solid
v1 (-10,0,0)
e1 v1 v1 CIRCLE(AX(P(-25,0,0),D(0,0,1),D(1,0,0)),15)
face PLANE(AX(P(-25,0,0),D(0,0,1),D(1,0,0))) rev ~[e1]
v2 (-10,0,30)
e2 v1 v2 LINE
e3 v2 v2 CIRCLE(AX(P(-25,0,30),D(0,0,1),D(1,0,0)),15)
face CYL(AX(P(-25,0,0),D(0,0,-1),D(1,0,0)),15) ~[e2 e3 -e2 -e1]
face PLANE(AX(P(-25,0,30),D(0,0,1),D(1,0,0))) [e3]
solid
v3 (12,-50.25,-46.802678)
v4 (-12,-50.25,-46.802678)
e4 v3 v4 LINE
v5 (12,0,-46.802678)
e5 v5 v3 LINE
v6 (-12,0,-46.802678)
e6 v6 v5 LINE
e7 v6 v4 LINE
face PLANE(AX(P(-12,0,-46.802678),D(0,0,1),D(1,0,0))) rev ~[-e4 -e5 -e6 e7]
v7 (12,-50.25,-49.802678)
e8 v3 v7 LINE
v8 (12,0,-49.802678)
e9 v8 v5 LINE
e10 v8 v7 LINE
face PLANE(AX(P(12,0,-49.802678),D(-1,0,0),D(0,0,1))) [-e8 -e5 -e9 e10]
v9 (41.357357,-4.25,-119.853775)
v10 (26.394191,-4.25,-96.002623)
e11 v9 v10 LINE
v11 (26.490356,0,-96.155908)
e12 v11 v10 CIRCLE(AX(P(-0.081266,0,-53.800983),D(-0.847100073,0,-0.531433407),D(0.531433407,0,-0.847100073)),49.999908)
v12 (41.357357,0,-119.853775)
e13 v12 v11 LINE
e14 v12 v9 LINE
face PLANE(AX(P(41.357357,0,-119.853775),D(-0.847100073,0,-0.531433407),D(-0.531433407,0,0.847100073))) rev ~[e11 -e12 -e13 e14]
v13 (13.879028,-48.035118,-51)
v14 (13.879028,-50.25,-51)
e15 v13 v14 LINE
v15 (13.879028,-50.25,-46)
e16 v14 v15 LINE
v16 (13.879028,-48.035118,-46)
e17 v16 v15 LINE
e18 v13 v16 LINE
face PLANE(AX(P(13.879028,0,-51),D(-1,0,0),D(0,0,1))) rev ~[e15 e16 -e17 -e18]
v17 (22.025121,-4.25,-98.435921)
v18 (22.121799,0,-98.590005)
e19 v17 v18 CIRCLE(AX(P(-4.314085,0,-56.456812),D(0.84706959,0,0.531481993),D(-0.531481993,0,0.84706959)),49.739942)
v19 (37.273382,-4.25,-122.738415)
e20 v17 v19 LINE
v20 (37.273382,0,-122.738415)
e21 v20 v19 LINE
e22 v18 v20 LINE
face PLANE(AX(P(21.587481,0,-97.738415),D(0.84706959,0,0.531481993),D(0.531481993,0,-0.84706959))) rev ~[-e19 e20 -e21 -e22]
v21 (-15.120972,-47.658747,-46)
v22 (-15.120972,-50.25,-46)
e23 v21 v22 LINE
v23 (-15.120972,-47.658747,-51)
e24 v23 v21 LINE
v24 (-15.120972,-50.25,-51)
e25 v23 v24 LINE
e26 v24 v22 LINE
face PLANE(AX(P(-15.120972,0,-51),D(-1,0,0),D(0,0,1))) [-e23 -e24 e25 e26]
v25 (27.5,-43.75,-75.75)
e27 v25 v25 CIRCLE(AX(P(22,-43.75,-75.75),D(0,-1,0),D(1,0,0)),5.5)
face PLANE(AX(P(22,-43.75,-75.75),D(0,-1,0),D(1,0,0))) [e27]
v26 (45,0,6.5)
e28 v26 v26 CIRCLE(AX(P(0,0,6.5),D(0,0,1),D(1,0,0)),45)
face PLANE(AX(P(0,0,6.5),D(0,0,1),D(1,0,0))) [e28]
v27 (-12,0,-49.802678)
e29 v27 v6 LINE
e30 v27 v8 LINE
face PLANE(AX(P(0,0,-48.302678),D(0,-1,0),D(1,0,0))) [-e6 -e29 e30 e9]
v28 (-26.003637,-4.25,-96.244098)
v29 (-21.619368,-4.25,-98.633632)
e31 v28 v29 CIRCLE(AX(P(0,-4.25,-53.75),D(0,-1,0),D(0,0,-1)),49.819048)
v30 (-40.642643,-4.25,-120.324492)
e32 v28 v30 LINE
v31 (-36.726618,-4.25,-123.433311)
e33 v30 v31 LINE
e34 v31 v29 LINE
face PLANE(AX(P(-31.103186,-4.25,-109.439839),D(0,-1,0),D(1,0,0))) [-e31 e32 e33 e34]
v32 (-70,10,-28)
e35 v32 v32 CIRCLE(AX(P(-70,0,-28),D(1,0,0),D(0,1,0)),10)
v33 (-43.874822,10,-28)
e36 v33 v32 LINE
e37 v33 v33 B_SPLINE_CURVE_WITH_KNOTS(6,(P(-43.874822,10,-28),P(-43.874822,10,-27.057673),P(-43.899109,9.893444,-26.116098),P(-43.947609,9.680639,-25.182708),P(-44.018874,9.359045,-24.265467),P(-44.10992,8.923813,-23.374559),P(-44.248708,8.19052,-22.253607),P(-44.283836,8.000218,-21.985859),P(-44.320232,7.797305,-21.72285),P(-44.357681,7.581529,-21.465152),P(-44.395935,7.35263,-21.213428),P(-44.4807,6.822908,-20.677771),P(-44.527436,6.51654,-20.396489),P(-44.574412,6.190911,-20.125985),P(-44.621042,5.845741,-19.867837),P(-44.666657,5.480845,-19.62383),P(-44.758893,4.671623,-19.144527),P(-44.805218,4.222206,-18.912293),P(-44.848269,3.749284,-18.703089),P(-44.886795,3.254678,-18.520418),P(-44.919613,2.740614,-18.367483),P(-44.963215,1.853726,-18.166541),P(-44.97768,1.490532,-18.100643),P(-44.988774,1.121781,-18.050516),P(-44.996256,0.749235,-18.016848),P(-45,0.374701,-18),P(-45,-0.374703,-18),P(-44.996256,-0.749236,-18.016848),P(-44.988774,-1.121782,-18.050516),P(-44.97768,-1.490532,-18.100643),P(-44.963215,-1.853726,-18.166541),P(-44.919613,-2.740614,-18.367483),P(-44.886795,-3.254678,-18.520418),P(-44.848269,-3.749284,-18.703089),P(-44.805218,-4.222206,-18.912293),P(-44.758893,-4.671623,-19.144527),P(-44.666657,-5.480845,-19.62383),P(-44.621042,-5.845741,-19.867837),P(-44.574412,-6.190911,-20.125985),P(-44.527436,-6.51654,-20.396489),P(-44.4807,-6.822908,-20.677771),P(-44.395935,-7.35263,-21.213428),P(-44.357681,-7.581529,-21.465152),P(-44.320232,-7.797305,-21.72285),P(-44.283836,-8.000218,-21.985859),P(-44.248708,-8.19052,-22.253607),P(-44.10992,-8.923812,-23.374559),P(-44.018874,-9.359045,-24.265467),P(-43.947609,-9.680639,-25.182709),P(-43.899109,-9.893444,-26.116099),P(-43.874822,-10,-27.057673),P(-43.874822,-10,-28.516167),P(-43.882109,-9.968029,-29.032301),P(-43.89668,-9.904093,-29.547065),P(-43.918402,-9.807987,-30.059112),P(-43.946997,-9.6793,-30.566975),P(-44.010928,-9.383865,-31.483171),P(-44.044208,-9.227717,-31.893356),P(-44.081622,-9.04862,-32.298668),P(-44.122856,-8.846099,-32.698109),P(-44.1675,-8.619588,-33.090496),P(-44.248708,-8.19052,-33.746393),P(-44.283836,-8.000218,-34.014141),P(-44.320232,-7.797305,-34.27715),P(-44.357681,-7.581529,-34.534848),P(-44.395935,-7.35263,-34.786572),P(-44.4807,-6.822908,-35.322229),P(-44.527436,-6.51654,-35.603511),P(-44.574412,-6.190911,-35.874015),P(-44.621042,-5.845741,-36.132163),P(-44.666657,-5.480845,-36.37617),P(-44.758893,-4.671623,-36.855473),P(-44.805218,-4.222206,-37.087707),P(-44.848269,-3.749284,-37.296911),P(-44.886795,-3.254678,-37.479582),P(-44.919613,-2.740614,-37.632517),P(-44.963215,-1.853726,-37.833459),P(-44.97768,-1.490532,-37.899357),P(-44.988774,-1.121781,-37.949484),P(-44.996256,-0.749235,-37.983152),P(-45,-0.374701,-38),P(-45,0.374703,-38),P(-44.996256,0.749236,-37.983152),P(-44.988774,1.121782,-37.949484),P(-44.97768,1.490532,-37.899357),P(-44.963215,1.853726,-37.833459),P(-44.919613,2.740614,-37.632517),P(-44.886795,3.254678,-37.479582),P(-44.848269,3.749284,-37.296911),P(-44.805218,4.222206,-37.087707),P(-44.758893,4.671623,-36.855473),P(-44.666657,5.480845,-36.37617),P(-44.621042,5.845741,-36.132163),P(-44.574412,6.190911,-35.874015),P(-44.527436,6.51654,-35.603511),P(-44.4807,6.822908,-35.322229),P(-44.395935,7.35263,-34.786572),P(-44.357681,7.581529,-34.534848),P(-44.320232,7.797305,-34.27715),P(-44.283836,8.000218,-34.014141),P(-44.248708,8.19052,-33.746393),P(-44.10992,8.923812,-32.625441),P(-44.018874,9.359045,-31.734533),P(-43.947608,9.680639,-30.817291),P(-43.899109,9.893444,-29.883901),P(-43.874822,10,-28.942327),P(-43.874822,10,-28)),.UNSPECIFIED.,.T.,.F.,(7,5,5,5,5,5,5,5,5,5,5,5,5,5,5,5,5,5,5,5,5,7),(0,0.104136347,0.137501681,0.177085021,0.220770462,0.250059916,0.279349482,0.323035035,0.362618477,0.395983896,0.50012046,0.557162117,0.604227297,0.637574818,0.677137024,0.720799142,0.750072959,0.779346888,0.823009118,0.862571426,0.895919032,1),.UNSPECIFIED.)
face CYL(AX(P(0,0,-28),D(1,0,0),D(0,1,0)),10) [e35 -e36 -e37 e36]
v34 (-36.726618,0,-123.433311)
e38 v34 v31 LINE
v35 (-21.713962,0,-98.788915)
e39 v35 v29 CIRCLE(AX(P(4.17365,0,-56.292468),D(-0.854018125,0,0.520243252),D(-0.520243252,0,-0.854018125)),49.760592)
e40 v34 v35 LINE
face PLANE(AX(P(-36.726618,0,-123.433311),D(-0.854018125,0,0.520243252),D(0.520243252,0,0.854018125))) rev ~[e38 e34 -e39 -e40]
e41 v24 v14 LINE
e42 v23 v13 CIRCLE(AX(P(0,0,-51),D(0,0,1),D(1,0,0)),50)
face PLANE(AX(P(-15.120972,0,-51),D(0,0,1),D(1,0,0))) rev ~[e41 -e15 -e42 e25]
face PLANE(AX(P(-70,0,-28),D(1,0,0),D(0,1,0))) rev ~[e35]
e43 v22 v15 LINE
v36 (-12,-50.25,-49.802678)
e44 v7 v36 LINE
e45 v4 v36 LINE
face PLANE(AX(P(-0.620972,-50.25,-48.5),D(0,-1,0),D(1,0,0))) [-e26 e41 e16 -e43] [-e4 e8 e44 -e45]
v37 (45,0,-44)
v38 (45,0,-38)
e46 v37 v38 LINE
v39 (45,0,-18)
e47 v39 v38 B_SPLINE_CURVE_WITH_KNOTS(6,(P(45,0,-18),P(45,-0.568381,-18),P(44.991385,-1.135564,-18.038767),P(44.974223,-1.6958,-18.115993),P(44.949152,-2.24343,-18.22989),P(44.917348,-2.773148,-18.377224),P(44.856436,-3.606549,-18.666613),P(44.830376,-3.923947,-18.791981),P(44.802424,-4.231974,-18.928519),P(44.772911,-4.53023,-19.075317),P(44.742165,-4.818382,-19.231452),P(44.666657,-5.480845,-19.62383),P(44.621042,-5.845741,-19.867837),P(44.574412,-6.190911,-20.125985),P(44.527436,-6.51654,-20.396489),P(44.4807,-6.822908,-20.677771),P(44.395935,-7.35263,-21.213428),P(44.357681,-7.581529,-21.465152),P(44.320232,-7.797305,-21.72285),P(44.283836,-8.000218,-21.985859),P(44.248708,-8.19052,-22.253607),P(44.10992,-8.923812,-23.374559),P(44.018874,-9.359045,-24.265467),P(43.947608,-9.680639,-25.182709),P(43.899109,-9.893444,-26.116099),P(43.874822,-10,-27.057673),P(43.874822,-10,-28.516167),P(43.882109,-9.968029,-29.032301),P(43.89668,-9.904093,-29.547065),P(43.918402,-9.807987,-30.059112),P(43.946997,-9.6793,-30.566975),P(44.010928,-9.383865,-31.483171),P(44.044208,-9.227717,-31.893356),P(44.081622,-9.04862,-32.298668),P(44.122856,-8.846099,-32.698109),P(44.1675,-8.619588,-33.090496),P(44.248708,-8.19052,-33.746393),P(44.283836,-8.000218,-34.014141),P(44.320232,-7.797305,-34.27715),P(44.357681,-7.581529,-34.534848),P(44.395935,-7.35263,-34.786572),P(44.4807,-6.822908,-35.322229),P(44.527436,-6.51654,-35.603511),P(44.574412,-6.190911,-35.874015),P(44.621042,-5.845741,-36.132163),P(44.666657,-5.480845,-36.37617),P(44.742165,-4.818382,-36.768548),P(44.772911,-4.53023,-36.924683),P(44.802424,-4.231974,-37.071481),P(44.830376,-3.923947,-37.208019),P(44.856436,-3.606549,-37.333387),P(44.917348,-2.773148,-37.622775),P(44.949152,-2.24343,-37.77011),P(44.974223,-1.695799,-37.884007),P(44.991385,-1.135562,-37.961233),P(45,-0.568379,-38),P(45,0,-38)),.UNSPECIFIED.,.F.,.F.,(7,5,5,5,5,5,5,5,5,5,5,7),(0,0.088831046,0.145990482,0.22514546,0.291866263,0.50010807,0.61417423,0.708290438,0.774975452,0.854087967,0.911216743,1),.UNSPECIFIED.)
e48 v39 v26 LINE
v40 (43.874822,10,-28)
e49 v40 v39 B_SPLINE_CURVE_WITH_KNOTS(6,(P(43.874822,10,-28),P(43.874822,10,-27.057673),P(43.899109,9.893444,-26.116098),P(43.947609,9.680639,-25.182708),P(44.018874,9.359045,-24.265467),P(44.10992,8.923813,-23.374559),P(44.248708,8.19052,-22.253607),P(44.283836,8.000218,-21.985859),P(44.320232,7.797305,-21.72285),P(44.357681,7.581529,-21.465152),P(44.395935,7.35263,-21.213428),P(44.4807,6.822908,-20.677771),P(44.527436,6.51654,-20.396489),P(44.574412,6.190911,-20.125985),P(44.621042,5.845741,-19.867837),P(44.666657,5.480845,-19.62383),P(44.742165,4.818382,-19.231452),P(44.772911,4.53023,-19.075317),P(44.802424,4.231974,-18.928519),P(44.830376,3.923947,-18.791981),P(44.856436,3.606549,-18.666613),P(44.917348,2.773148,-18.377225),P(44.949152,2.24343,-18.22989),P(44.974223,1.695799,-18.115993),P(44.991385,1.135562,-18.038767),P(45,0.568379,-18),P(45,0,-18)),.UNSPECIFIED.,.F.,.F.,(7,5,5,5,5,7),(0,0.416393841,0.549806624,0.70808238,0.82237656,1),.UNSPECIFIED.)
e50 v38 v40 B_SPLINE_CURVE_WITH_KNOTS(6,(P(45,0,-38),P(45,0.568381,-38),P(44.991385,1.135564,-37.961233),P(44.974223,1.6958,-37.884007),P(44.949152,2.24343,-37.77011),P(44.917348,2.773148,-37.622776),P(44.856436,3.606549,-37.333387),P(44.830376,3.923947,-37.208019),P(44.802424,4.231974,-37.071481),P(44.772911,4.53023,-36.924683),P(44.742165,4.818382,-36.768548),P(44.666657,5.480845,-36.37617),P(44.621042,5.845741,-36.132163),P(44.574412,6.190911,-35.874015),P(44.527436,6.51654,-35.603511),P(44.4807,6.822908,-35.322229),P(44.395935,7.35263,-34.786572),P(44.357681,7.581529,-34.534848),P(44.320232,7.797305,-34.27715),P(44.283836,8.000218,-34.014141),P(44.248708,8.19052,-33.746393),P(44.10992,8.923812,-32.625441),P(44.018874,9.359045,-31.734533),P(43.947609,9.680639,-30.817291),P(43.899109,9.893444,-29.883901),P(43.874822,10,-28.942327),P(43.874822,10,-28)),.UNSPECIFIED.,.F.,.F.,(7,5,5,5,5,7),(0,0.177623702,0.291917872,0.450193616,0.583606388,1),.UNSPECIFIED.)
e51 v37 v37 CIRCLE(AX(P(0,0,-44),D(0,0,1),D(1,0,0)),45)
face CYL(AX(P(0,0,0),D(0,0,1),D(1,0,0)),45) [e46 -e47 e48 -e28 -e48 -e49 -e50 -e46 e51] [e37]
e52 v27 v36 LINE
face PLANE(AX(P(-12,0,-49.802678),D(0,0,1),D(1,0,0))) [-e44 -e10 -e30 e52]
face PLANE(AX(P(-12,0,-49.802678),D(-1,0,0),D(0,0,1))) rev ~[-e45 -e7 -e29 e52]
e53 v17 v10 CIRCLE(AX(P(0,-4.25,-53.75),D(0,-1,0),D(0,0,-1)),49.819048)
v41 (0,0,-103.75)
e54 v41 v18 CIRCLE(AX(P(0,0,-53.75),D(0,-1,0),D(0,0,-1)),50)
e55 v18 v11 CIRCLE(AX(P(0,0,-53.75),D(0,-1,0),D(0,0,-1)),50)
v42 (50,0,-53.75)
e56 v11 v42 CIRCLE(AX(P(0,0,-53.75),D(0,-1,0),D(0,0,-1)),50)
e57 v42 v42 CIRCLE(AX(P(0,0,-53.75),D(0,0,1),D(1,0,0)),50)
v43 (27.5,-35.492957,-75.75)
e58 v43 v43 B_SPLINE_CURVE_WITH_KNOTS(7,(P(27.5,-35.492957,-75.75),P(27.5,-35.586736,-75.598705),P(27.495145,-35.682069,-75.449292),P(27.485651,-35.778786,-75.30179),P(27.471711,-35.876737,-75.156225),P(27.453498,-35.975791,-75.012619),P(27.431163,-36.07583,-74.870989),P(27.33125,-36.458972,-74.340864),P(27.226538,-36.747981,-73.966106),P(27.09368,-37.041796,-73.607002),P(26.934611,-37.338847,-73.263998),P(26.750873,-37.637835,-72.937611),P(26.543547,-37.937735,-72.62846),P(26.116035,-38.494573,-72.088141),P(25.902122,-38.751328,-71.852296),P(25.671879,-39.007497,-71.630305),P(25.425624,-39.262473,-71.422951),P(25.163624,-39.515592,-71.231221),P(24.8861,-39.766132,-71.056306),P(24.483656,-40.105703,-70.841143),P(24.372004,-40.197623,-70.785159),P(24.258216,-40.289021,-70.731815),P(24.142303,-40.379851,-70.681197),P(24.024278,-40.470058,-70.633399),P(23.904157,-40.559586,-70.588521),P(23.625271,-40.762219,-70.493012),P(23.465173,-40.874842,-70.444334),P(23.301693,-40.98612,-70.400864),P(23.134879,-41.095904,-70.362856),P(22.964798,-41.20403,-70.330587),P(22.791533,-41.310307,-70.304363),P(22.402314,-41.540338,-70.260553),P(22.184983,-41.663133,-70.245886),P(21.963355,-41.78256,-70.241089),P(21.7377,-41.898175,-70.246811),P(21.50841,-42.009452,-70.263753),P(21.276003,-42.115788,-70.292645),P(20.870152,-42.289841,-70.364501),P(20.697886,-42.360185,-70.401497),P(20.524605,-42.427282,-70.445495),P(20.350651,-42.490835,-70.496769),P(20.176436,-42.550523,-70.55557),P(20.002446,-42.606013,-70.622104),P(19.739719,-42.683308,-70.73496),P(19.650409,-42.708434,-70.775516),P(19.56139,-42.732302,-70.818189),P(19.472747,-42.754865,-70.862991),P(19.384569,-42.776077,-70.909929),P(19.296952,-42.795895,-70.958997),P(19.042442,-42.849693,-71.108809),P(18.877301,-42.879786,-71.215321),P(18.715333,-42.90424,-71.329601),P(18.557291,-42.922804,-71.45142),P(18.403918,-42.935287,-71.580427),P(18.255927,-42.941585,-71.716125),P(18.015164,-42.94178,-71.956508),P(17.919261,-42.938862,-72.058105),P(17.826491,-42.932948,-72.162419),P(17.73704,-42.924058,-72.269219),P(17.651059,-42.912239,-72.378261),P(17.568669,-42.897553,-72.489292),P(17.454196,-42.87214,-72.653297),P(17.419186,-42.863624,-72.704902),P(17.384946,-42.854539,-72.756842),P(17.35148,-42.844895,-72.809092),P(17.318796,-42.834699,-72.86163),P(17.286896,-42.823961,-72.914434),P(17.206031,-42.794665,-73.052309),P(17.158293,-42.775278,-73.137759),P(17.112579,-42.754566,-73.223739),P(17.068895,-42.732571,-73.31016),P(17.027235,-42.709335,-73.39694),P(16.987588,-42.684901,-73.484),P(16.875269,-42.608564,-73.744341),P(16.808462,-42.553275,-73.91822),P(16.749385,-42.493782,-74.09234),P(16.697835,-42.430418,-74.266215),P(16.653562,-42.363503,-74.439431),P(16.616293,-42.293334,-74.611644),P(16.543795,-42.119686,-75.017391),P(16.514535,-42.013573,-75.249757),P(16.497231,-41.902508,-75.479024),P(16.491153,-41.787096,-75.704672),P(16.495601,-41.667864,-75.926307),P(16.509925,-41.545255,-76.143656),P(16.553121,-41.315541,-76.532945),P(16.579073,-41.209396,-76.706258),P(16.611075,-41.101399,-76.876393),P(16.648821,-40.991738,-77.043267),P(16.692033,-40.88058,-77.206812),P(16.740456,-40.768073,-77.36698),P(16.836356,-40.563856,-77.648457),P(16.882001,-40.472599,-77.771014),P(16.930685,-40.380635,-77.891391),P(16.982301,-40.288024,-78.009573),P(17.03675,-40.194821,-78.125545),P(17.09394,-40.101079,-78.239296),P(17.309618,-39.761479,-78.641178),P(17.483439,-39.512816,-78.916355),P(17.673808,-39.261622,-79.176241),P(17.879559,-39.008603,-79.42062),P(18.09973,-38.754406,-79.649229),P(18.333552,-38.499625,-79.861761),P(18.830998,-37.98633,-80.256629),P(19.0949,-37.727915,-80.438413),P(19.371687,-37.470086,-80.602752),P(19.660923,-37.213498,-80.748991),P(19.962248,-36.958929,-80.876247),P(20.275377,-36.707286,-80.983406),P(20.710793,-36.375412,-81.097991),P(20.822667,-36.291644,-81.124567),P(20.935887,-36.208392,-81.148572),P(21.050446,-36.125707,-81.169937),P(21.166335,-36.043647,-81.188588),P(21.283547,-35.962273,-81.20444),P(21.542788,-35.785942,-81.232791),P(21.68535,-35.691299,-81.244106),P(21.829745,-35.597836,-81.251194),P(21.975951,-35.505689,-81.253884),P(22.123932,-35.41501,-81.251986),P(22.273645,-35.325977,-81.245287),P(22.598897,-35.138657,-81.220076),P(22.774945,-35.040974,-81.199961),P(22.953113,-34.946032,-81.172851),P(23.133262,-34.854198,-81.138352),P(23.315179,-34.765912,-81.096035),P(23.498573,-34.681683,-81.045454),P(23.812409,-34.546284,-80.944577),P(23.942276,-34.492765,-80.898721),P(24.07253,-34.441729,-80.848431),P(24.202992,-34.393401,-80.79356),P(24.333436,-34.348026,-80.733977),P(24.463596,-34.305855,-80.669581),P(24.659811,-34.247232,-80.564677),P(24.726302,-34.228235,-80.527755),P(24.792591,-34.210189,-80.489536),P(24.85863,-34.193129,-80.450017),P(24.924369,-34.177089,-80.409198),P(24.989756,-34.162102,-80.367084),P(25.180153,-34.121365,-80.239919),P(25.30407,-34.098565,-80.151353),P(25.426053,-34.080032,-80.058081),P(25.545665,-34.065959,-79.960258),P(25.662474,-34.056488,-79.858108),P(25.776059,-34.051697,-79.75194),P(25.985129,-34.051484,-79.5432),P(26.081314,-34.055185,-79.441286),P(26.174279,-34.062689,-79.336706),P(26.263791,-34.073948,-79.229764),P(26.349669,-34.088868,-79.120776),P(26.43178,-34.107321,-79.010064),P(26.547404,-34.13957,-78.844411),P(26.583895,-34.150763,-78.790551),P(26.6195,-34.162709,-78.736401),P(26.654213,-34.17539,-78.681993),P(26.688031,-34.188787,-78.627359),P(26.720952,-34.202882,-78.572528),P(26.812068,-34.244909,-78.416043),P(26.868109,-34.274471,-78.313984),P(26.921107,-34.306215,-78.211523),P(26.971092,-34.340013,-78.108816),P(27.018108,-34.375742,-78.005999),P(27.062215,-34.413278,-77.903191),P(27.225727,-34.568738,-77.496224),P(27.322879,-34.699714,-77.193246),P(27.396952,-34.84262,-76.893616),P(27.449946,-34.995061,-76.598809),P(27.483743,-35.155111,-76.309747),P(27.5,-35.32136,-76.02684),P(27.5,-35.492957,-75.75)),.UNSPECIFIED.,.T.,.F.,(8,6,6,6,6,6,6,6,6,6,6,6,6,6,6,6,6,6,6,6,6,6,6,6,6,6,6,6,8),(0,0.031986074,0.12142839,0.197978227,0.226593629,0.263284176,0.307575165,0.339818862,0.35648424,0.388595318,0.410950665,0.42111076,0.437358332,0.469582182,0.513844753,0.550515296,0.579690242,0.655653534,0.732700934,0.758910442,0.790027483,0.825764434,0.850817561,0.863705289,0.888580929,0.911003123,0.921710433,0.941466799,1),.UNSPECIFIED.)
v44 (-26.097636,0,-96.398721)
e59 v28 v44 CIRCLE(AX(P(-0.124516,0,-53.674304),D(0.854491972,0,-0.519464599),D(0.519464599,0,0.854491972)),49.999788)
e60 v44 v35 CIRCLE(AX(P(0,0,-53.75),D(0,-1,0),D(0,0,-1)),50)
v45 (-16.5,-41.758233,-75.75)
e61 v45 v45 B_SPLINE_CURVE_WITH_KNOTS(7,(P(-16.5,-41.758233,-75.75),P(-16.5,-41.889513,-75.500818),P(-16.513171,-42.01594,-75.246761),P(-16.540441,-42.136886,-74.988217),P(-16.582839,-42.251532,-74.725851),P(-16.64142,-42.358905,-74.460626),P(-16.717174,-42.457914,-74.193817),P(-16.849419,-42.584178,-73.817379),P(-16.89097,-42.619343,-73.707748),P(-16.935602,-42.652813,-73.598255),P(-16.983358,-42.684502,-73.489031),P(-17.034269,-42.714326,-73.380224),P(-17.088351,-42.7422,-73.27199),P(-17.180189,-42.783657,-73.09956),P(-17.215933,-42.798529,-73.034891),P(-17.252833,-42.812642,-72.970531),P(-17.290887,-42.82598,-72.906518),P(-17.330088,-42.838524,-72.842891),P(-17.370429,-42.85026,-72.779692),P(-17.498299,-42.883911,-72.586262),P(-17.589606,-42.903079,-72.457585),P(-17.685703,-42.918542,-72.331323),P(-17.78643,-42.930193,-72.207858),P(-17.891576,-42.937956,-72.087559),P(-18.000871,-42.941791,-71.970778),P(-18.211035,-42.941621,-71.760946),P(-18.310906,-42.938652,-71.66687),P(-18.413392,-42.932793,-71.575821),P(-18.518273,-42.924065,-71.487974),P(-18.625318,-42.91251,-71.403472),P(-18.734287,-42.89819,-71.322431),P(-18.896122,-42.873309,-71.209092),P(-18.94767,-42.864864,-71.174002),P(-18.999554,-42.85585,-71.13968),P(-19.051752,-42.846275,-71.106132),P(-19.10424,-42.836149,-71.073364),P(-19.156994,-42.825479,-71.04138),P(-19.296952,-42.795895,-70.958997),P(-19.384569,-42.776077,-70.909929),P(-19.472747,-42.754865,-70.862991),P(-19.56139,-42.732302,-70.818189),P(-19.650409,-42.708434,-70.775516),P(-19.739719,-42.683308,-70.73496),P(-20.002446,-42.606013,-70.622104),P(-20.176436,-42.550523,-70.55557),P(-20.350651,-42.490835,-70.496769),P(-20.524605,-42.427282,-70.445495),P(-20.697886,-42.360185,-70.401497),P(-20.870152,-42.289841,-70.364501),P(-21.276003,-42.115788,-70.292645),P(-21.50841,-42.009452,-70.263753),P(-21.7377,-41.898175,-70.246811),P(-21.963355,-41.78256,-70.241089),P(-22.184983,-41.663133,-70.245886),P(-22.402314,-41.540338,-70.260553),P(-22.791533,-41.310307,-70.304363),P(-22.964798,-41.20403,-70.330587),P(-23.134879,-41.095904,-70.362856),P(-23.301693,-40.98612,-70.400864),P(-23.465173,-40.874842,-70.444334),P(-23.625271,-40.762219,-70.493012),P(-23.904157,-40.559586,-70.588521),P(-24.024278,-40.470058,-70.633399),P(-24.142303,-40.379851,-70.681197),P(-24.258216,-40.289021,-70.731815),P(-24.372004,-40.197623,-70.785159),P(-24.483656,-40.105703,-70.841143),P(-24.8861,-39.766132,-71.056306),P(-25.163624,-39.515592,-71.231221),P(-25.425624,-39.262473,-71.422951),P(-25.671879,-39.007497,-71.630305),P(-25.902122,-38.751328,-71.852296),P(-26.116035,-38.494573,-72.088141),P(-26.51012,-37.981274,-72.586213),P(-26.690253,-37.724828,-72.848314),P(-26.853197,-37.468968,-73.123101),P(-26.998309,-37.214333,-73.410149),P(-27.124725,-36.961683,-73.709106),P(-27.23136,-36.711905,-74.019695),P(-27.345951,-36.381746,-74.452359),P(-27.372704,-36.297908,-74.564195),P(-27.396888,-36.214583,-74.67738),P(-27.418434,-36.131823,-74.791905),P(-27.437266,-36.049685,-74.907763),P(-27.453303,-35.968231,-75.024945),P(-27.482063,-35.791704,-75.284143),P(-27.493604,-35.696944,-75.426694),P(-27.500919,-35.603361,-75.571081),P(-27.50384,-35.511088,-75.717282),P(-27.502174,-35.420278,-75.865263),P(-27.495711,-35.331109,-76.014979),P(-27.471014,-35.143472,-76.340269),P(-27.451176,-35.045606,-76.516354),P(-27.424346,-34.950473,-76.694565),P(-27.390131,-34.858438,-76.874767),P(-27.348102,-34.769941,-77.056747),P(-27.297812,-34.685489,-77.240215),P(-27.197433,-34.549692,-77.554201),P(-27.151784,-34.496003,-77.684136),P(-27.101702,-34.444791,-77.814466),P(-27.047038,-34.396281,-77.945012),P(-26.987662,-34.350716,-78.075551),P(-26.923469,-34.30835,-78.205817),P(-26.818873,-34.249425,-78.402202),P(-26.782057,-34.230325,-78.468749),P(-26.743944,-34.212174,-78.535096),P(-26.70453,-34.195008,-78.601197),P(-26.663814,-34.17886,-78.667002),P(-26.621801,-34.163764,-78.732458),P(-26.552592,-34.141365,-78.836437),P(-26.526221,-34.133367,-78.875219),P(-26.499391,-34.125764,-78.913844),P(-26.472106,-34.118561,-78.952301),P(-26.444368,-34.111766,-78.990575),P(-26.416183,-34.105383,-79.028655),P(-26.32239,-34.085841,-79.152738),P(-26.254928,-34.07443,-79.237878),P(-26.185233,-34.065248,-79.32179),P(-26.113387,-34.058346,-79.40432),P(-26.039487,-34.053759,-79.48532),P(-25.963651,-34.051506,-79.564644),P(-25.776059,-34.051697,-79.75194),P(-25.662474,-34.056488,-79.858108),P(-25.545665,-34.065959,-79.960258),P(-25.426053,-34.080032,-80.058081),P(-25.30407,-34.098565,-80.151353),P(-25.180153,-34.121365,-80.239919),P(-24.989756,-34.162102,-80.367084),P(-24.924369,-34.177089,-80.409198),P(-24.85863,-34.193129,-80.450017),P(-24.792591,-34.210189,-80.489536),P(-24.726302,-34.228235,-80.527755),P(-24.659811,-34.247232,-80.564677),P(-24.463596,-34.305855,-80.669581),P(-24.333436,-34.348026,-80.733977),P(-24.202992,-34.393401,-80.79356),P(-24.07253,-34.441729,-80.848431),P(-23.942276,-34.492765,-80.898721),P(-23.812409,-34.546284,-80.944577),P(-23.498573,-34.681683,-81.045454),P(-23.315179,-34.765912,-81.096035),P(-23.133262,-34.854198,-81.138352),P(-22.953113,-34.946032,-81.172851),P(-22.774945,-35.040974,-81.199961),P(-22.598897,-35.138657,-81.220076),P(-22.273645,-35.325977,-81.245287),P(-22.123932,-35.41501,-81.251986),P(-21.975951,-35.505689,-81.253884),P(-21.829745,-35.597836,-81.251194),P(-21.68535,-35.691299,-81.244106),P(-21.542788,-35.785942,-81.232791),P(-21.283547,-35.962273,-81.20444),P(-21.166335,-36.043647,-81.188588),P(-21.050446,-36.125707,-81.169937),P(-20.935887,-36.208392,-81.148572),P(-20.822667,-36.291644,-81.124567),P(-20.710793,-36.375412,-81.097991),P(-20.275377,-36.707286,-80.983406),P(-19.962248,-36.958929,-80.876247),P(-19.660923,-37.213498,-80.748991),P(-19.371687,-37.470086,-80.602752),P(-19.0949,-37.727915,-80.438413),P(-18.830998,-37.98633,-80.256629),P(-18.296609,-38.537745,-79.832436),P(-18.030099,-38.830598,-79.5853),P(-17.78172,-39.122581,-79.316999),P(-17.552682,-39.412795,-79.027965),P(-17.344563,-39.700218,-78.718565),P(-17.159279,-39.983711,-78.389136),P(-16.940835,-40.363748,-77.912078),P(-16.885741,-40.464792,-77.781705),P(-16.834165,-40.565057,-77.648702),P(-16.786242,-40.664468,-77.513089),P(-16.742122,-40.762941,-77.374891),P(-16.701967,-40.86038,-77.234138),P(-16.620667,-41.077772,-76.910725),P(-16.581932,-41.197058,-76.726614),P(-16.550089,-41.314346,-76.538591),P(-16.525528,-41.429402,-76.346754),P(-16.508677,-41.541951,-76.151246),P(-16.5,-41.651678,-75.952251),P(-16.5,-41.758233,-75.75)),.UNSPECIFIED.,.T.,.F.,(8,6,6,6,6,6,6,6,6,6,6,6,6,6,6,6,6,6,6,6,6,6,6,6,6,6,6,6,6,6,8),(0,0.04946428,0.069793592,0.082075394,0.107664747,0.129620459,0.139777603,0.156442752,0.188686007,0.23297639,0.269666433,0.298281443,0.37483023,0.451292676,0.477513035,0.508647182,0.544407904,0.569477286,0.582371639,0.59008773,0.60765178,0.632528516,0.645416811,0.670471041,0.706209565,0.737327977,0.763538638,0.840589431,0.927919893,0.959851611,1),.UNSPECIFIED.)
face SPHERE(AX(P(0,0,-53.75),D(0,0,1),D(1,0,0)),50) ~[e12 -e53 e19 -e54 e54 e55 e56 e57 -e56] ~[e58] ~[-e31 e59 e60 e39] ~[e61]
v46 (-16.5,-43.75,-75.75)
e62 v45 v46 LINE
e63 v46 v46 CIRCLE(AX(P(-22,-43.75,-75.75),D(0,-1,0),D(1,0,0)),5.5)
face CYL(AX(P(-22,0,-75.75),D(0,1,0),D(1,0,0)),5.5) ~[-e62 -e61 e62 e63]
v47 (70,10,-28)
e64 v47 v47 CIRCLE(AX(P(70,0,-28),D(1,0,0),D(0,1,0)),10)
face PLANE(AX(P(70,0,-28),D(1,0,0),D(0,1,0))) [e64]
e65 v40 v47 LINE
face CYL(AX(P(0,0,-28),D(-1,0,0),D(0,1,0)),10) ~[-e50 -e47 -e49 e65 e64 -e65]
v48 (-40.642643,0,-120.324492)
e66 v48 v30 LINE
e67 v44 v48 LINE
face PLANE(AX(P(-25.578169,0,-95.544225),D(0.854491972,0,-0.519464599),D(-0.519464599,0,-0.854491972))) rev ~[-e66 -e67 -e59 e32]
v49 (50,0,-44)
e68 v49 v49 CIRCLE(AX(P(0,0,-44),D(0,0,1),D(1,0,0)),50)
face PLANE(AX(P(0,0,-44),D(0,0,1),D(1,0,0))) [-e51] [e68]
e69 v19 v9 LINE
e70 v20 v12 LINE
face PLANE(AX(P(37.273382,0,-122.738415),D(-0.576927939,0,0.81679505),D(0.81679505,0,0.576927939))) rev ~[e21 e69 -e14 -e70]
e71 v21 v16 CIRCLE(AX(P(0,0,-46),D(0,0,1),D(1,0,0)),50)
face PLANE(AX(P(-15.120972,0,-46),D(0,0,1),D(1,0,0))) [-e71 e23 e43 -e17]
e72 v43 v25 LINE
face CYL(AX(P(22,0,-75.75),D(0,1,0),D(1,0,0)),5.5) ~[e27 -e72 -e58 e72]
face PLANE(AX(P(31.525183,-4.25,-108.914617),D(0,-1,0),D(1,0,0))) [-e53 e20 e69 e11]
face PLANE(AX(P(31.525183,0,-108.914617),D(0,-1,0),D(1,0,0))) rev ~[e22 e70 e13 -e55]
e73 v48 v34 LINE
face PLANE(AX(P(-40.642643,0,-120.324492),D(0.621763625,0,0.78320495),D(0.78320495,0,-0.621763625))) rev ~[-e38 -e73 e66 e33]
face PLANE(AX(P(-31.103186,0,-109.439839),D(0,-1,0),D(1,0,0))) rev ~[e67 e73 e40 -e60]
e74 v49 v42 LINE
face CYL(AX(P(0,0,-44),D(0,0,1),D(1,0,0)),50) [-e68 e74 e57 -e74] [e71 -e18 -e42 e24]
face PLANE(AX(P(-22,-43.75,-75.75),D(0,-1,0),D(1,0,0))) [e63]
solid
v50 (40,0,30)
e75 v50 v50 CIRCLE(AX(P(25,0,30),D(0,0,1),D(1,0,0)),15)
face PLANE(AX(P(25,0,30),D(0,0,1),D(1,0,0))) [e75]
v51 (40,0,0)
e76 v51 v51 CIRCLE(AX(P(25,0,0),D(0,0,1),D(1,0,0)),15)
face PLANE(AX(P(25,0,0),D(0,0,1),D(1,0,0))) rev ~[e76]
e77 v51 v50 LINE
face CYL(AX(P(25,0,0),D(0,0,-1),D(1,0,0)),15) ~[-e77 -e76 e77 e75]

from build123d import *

# Parameters (mm, degrees)
F0_R          = 15
F3_DEPTH      = 30
F1_R          = 45
F4_DEPTH      = 50
F4_DEPTH_BACK = 6.5
F5_START      = -44
F2_R          = 50
F5_DEPTH      = 9.75
F6_R          = 10
F7_DEPTH      = 70
F8_R          = 10
F9_DEPTH      = 70
F12_R         = 5.5
F13_DEPTH     = 43.75
F15_DEPTH     = 4.25
F16_W         = 29
F16_H         = 5
F17_DEPTH     = 50.25
F18_W         = 24
F18_H         = 3
F19_DEPTH     = 52


with BuildPart() as f3:
    # F0 (on Top) → F3 (new body)
    with BuildSketch(Plane.XY):
        with Locations((-25, 0)):
            Circle(F0_R)
    extrude(amount=F3_DEPTH)


with BuildPart() as f3b:
    # F0 (on Top) → F3, piece 2 (new body)
    with BuildSketch(Plane.XY):
        with Locations((25, 0)):
            Circle(F0_R)
    extrude(amount=F3_DEPTH)


with BuildPart() as f4:
    # F1 (on Top) → F4 (new body, two sides)
    with BuildSketch(Plane.XY) as f4_sk:
        Circle(F1_R)
    extrude(amount=-F4_DEPTH)
    extrude(f4_sk.sketch, amount=F4_DEPTH_BACK)

    # F2 (on Top) → F5 (join)
    with BuildSketch(Plane.XY.offset(F5_START)):
        Circle(F2_R)
    extrude(amount=-F5_DEPTH)

    # F6 (on Right) → F7 (join)
    with BuildSketch(Plane.YZ):
        with Locations((0, -28)):
            Circle(F6_R)
    extrude(amount=F7_DEPTH)

    # F8 (on Right) → F9 (join)
    with BuildSketch(Plane.YZ):
        with Locations((0, -28)):
            Circle(F8_R)
    extrude(amount=-F9_DEPTH)

    # F10 (on Front) → F11 (revolve)
    with BuildSketch(Plane.XZ):
        with BuildLine():
            Line((0, -53.75), (0, -103.75))
            ThreePointArc((0, -103.75), (35.3553390593, -89.1053390593), (50, -53.75))
            Line((50, -53.75), (0, -53.75))
        make_face()
    revolve(axis=Axis((0, 0, -78.75), (0, 0, -1)))

    # F12 (on Front) → F13 (join)
    with BuildSketch(Plane.XZ):
        with Locations((22, -75.75)):
            Circle(F12_R)
        with Locations((-22, -75.75)):
            Circle(F12_R)
    extrude(amount=F13_DEPTH)

    # F14 (on Front) → F15 (join)
    with BuildSketch(Plane.XZ):
        Polygon((37.273382177, -122.7384150805), (41.3573574255, -119.8537753855), (25.9457886256, -95.2878732623), (21.5874810644, -97.7384150805), align=None)
        Polygon((-40.6426425745, -120.3244923925), (-36.726617823, -123.4333105193), (-21.49733765, -98.4333105193), (-25.5781691914, -95.5442252089), align=None)
    extrude(amount=F15_DEPTH)

    # F16 (on Front) → F17 (join)
    with BuildSketch(Plane.XZ):
        with Locations((-0.6209718995, -48.5)):
            Rectangle(F16_W, F16_H)
    extrude(amount=F17_DEPTH)

    # F18 (on Front) → F19 (cut)
    with BuildSketch(Plane.XZ):
        with Locations((0, -48.3026781332)):
            Rectangle(F18_W, F18_H)
    extrude(amount=F19_DEPTH, mode=Mode.SUBTRACT)


solid = Compound([f3.part, f3b.part, f4.part])
